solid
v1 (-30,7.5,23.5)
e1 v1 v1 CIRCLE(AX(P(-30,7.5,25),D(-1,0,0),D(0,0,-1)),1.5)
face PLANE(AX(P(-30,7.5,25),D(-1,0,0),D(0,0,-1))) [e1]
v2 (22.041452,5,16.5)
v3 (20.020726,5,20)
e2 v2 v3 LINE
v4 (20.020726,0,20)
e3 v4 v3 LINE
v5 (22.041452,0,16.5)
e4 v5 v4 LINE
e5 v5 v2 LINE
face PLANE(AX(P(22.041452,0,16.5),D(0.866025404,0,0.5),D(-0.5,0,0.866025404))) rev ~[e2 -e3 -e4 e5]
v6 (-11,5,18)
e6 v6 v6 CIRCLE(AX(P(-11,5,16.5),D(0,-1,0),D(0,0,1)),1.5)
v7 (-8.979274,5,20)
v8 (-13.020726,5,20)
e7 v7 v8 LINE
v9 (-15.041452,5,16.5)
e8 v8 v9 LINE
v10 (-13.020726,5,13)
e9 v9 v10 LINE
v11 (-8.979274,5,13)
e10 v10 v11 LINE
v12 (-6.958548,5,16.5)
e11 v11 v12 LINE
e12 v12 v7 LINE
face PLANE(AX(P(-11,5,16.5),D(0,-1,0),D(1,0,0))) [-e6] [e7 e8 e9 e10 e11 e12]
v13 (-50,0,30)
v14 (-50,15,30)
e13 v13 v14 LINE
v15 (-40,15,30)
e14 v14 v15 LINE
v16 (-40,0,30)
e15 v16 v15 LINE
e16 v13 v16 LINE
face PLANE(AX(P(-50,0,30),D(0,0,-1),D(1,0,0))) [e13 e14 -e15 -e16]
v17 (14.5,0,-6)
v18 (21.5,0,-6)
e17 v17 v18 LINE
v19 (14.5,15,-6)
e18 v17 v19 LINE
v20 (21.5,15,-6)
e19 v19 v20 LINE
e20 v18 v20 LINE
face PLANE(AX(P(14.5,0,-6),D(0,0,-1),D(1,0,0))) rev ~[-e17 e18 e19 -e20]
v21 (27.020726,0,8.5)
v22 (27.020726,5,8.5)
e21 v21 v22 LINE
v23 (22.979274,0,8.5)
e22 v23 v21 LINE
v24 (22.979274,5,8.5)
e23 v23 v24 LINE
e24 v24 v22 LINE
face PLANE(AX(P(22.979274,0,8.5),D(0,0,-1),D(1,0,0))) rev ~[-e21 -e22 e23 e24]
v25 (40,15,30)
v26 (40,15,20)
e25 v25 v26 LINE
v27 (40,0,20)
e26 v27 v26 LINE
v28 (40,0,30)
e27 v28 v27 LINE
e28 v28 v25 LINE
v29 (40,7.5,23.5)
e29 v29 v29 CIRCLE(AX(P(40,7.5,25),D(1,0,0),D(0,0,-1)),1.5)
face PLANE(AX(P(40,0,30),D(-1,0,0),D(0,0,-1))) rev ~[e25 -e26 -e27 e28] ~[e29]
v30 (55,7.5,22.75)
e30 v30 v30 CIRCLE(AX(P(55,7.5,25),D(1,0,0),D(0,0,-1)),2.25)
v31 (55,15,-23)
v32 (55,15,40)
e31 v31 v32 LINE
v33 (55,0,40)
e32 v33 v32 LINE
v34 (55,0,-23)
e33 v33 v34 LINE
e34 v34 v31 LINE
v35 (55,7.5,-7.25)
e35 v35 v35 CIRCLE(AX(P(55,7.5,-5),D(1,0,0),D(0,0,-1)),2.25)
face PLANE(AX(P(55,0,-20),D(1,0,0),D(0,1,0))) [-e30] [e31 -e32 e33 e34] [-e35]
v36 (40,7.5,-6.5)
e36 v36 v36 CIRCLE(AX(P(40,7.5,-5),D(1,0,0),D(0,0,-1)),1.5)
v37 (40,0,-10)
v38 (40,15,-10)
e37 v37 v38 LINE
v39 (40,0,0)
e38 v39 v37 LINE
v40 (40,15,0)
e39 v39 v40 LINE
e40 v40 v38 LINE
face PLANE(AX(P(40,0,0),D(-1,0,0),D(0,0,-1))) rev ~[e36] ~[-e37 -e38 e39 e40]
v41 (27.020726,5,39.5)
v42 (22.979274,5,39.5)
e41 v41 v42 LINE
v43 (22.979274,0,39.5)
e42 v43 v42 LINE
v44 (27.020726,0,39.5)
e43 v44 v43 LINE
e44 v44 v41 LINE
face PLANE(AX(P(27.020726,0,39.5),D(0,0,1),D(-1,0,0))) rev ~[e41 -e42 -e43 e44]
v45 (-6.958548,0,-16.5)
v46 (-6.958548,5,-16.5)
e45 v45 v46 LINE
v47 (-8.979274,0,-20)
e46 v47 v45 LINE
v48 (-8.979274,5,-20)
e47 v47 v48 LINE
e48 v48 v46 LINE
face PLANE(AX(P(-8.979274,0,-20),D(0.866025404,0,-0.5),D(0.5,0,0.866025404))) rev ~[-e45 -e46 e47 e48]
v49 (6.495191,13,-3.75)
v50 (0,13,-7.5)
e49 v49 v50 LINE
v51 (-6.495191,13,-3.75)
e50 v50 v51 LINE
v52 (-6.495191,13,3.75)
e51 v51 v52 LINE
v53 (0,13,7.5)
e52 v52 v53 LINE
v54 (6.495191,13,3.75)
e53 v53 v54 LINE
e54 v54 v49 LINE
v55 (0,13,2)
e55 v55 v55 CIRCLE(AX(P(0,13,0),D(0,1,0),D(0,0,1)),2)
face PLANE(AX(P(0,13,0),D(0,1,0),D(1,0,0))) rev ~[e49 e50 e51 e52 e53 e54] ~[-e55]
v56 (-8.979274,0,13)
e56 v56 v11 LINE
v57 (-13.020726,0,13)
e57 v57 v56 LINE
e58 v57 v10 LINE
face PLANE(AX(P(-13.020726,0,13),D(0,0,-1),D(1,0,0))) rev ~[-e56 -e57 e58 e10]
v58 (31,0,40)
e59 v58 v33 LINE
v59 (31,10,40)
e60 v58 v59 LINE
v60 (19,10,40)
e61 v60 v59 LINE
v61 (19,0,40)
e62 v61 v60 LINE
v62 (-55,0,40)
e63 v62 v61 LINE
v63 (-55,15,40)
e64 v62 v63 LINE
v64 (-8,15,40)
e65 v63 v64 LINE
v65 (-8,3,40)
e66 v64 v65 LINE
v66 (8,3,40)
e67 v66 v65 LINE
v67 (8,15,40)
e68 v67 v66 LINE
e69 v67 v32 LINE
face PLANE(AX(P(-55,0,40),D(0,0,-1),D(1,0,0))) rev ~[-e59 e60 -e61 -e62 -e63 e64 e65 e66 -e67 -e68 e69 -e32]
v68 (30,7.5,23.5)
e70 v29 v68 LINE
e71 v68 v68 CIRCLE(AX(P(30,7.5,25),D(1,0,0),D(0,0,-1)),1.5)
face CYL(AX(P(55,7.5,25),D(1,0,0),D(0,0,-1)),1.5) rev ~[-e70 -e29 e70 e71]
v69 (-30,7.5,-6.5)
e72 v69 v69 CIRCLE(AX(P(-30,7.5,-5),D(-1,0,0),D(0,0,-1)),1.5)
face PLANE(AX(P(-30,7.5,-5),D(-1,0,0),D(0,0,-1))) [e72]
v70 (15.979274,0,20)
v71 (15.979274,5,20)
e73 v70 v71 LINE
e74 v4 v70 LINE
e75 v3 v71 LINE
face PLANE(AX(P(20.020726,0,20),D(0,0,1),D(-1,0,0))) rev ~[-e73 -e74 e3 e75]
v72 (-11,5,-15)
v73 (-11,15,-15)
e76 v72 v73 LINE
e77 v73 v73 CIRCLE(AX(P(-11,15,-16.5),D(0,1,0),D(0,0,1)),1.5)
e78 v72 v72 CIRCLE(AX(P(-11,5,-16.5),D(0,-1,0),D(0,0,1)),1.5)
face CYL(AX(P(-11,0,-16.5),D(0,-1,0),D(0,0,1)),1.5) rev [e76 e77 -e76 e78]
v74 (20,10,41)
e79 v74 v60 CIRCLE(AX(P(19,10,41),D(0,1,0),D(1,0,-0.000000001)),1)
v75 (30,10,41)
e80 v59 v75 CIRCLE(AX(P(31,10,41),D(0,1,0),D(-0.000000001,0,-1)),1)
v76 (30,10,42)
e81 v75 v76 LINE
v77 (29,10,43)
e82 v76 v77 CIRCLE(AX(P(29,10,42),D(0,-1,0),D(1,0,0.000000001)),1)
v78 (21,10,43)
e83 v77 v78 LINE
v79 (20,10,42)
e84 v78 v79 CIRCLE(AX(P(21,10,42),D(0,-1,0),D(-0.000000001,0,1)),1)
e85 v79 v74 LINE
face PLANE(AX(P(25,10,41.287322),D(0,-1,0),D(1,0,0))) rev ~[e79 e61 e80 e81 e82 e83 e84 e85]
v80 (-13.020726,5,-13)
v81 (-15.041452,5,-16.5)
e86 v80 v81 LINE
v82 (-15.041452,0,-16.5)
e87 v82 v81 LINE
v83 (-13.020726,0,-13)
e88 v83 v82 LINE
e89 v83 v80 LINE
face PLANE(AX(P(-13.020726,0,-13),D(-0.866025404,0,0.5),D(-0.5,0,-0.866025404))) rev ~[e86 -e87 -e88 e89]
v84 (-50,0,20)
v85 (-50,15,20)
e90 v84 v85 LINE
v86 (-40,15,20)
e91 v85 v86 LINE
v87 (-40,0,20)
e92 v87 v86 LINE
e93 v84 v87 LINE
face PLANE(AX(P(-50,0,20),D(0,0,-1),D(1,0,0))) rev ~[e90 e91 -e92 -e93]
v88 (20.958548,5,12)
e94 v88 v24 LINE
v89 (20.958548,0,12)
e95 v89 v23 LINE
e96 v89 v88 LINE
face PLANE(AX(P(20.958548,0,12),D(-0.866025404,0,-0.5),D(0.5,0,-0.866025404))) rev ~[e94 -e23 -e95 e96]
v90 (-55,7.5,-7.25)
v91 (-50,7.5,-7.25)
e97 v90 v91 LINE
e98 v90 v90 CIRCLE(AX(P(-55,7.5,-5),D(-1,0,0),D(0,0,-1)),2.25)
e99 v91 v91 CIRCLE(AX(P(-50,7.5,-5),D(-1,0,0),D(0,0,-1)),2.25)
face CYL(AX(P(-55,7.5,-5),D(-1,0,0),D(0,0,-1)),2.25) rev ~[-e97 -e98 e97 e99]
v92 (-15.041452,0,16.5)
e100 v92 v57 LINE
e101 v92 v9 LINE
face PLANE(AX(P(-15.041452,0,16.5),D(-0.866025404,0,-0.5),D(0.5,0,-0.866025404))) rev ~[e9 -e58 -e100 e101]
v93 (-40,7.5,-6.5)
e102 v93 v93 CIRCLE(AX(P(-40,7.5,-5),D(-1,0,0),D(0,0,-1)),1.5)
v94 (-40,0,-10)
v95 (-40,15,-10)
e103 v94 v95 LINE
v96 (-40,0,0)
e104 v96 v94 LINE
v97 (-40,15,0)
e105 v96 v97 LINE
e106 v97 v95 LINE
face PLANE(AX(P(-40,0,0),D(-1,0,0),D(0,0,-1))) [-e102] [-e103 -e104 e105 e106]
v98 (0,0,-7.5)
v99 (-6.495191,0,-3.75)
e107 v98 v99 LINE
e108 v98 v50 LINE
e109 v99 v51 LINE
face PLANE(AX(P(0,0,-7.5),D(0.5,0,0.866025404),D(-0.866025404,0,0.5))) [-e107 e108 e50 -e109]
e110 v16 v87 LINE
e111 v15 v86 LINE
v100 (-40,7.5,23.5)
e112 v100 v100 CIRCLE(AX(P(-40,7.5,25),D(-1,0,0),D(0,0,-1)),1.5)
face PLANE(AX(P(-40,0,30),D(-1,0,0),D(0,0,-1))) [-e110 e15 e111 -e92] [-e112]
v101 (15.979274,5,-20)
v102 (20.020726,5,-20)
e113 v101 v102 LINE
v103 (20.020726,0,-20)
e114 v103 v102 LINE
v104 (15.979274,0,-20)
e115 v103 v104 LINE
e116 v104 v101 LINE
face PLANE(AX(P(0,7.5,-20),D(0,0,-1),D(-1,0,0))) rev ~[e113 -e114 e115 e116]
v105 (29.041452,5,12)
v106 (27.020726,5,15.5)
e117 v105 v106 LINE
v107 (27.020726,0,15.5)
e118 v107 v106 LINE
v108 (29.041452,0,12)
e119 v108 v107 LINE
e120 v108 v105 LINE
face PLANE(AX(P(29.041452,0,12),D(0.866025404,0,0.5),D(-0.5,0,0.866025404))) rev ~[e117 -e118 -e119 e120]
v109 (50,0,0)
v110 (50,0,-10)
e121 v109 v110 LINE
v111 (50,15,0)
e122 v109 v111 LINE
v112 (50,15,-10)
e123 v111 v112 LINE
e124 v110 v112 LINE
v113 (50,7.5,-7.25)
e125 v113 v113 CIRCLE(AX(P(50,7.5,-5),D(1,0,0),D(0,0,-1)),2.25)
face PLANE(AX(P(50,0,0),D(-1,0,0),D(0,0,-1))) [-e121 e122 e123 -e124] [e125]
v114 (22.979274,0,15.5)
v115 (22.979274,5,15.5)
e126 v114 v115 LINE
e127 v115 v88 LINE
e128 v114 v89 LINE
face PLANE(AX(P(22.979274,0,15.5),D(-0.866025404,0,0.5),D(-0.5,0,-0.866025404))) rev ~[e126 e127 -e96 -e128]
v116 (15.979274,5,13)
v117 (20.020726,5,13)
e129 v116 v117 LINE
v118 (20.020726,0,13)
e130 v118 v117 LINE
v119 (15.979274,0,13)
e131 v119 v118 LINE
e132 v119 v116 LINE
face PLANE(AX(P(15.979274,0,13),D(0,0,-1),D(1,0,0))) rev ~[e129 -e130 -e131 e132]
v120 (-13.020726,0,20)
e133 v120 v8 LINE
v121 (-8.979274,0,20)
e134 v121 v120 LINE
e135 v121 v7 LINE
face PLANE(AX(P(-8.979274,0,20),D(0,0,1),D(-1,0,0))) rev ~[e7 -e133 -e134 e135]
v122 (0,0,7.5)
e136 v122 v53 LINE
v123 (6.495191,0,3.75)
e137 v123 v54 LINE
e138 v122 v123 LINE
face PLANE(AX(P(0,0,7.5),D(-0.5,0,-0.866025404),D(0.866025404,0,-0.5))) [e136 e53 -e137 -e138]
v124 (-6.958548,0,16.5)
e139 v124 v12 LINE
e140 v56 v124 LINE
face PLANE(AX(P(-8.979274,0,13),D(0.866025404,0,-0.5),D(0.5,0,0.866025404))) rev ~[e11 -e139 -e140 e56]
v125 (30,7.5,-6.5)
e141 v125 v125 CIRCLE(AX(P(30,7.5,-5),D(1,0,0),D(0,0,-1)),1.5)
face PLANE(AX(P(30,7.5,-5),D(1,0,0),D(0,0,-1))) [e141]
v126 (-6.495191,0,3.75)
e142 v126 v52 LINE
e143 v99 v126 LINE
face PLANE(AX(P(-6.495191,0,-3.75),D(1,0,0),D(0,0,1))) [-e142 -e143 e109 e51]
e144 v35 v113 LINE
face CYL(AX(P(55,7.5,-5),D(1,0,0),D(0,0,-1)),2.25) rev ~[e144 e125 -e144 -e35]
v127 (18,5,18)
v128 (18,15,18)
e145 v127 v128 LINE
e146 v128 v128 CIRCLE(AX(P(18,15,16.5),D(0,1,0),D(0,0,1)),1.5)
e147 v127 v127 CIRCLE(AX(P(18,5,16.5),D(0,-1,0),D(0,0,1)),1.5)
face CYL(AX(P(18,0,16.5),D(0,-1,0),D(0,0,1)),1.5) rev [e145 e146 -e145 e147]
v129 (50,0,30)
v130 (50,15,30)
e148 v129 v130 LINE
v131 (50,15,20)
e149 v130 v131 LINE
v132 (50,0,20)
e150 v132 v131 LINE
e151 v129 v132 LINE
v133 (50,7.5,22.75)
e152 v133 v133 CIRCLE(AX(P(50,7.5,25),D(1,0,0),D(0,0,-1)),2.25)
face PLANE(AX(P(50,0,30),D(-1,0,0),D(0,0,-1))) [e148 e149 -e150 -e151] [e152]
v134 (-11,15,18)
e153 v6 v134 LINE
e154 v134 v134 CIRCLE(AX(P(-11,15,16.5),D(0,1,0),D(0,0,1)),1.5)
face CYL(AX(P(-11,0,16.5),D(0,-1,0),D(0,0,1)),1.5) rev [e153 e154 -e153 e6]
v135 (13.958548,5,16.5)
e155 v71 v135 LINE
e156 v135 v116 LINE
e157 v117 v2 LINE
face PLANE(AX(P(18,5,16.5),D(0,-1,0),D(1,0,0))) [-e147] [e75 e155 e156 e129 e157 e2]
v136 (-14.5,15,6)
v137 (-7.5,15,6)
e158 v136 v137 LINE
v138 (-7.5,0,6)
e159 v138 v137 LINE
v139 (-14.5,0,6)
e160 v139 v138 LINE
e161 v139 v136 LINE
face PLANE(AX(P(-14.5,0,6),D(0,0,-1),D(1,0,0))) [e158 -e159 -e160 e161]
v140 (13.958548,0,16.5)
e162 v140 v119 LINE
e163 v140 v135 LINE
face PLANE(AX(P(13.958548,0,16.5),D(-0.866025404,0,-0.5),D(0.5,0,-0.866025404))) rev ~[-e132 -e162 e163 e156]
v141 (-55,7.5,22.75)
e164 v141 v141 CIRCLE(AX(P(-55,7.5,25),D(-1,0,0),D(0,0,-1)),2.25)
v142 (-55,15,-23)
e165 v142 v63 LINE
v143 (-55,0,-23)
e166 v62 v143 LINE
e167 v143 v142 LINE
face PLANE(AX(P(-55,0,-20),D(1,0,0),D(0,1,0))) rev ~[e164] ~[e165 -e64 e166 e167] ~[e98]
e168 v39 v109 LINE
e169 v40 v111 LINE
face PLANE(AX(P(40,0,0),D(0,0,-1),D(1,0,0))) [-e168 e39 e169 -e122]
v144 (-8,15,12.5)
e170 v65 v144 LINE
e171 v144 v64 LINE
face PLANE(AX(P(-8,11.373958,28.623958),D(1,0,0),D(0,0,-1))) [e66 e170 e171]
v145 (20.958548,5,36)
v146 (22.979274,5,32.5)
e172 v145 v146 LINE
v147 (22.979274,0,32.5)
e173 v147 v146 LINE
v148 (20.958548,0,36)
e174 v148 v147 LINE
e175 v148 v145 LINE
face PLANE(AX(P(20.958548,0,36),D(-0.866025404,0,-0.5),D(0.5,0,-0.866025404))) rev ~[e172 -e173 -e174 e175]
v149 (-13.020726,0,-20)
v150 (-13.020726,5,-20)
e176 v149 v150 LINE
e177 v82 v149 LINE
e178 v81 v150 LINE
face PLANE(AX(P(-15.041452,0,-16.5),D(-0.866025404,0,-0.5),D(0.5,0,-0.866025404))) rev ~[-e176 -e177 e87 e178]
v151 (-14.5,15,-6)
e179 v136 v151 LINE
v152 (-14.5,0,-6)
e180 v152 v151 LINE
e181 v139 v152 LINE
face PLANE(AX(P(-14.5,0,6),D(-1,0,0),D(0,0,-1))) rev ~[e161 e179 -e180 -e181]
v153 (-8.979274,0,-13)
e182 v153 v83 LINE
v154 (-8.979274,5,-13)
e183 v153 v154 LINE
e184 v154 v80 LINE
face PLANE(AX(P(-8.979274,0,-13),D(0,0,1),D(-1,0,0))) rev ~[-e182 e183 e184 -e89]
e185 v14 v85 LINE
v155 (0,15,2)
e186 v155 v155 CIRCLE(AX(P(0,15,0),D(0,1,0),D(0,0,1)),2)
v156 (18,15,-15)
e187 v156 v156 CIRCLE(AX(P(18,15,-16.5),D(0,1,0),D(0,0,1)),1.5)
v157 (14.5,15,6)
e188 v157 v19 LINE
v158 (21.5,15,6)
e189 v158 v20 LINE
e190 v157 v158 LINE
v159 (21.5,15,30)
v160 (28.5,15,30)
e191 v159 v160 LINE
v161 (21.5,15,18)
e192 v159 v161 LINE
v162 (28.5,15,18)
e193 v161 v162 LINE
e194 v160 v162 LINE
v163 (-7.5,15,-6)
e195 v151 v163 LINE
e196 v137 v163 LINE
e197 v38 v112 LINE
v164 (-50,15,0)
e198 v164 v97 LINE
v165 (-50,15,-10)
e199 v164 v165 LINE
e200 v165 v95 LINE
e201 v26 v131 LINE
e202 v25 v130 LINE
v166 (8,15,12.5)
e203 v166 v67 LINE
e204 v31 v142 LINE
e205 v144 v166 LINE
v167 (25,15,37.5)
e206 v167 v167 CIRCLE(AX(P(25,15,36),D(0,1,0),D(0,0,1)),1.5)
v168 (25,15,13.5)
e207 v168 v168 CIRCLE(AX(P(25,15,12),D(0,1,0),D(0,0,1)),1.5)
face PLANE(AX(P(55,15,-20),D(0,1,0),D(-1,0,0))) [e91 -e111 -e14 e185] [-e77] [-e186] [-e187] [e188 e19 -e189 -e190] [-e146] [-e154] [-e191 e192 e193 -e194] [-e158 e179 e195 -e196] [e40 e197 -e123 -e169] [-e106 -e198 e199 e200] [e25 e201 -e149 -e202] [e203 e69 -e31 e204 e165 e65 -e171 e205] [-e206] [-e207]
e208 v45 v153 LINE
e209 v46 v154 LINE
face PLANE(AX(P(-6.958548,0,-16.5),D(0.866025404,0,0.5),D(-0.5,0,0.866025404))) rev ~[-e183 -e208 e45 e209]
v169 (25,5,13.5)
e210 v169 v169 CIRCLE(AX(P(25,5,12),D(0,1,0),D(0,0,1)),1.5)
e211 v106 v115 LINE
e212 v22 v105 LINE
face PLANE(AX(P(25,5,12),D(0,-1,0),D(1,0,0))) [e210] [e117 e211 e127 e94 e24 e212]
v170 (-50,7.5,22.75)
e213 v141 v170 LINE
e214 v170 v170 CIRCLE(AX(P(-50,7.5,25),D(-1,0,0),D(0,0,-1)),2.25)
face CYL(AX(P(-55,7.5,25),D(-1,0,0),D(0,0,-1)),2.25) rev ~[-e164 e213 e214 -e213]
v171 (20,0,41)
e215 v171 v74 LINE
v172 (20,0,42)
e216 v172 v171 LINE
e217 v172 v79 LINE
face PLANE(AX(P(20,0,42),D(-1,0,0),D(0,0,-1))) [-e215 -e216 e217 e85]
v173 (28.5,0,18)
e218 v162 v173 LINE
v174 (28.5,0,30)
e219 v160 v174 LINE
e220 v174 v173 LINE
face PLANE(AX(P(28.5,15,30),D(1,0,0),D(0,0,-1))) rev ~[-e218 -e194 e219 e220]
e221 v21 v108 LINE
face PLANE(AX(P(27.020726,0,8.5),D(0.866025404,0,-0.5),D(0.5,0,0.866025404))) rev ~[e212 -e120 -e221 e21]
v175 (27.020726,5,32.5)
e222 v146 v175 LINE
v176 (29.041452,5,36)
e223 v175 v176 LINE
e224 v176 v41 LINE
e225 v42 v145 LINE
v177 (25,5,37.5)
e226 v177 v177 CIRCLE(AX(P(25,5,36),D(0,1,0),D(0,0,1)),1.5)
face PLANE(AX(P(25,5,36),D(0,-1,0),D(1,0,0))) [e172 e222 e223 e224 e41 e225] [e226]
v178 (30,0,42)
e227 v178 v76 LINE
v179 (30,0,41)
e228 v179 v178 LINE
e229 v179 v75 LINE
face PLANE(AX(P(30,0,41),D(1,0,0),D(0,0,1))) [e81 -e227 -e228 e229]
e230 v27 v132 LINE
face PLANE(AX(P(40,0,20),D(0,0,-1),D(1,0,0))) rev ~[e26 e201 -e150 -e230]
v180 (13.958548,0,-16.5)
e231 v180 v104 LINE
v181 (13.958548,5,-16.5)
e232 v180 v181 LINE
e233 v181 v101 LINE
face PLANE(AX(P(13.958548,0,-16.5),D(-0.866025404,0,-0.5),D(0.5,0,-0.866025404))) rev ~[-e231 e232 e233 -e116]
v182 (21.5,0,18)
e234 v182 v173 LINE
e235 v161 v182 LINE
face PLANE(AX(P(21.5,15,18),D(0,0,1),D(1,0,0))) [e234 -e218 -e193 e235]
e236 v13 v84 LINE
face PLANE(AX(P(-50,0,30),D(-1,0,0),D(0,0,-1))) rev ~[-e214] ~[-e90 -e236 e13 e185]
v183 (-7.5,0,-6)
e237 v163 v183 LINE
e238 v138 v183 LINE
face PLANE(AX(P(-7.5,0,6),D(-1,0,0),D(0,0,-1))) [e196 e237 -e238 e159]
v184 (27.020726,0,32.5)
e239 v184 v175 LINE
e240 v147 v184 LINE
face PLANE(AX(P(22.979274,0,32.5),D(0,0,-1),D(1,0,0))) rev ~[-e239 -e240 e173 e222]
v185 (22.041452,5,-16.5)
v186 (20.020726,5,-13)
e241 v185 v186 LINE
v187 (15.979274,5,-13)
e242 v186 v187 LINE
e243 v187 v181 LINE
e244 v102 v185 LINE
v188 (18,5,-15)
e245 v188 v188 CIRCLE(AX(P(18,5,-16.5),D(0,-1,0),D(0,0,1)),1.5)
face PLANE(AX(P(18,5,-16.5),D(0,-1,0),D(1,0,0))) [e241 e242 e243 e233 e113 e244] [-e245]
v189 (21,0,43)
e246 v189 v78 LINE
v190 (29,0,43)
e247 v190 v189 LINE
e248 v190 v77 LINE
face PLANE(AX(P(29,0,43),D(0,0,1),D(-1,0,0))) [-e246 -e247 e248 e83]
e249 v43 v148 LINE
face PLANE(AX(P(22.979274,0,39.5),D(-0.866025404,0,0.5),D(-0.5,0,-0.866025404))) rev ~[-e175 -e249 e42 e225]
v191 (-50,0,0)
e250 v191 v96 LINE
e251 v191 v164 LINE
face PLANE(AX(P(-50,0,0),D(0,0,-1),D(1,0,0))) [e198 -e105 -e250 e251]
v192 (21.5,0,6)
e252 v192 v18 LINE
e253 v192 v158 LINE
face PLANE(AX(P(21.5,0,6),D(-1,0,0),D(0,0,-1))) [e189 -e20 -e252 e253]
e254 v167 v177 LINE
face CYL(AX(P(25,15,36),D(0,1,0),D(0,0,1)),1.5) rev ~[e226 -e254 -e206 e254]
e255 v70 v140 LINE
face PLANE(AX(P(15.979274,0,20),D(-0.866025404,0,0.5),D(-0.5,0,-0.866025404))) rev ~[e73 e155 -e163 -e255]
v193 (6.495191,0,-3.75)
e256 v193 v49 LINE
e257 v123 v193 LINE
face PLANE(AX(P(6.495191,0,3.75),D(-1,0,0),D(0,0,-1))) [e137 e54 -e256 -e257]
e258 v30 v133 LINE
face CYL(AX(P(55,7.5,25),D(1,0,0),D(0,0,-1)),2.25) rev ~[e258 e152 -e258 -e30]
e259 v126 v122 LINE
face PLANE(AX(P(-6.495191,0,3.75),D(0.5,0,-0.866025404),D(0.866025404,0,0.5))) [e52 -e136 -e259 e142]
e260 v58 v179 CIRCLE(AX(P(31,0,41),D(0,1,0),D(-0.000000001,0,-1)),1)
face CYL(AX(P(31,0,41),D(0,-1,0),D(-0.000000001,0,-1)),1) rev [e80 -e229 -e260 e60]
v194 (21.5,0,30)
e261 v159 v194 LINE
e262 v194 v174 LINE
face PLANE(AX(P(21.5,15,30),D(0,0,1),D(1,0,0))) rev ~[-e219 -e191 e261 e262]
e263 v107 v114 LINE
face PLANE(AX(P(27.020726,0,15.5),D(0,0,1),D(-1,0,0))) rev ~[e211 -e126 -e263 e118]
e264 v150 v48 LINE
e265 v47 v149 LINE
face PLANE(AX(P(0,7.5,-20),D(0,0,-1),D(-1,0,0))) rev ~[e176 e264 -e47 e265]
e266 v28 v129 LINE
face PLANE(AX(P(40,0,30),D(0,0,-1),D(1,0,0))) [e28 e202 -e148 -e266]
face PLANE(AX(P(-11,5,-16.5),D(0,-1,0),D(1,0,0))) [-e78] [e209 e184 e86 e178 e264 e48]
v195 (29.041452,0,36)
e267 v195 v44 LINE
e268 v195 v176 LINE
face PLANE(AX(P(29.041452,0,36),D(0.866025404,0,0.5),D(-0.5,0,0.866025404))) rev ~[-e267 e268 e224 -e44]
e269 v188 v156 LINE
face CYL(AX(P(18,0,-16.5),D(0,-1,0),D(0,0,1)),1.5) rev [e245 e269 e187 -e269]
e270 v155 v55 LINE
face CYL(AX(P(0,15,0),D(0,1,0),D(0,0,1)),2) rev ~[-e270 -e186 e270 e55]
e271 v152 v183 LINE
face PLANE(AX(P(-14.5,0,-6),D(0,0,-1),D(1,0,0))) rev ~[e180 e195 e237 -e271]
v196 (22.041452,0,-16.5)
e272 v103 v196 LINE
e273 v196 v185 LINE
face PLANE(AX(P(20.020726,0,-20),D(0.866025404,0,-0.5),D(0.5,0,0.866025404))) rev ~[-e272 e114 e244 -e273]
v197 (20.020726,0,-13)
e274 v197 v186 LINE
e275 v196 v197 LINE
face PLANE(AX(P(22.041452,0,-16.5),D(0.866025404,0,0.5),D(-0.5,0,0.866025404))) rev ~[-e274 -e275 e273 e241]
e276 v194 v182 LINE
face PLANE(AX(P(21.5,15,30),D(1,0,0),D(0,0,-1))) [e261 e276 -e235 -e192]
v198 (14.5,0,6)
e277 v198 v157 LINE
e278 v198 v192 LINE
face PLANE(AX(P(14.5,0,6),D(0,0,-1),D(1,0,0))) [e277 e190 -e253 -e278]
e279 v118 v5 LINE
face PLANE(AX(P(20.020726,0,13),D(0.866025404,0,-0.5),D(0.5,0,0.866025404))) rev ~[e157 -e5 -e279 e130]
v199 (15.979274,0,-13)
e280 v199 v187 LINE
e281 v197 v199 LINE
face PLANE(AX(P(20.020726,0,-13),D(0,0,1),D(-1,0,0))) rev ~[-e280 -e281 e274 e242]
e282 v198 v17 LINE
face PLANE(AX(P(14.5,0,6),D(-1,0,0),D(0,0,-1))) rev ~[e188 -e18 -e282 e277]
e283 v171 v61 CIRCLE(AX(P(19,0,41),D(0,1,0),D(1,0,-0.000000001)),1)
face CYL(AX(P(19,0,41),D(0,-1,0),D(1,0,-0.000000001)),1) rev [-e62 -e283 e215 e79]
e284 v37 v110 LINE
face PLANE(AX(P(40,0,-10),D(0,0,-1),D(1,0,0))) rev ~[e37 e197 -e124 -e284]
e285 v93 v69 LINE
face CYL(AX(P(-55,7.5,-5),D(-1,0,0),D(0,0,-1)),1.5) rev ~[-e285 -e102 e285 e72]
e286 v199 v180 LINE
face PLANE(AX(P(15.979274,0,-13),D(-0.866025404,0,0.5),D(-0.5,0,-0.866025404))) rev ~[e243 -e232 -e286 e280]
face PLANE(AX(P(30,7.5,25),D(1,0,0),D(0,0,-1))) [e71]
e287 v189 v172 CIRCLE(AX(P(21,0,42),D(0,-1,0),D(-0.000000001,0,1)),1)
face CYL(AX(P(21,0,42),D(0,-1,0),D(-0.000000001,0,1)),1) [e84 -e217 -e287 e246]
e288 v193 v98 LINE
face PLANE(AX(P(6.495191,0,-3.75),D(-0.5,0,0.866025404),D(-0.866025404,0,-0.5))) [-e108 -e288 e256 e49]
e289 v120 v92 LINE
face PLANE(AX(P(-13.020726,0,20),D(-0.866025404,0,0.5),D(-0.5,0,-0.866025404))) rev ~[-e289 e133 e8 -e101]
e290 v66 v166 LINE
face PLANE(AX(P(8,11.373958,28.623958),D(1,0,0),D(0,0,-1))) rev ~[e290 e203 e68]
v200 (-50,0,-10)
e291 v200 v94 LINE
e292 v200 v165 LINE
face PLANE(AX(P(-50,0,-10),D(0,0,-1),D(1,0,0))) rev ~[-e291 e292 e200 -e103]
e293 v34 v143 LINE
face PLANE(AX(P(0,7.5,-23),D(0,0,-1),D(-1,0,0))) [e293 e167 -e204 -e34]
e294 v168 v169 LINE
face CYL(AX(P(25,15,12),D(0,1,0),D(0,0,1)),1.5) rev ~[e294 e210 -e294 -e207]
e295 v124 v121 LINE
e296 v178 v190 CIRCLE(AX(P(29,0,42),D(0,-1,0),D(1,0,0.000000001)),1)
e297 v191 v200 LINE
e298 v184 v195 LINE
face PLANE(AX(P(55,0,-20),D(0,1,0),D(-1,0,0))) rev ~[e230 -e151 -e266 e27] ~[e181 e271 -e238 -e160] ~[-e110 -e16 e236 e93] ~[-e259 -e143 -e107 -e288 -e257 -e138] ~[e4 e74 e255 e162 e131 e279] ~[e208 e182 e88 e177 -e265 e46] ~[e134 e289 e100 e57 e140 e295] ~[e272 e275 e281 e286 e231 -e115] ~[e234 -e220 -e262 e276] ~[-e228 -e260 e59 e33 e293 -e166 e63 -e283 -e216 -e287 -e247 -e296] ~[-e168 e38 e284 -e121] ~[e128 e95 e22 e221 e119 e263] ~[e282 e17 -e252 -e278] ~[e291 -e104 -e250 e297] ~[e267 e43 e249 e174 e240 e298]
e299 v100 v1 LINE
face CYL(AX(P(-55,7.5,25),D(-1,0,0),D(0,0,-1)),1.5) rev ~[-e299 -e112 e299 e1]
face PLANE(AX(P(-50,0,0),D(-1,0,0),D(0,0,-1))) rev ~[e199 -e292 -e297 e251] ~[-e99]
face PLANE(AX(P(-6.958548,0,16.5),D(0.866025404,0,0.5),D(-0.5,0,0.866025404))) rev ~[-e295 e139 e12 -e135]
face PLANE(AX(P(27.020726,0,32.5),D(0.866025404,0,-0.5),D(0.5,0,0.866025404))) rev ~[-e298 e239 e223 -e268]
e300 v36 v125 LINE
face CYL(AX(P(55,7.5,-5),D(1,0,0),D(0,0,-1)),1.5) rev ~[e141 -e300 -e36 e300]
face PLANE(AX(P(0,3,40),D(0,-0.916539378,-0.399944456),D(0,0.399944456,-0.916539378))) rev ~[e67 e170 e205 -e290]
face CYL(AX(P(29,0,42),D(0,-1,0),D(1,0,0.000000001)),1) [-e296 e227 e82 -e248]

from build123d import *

# Parameters (mm, degrees)
CROQUIS1_W              = 80
CROQUIS1_H              = 60
CROQUIS1_R              = 1.5
CROQUIS1_W_2            = 7
CROQUIS1_H_2            = 25
CROQUIS1_W_3            = 10
CROQUIS1_H_3            = 20
CROQUIS1_H_4            = 10
CROQUIS1_W_4            = 5
CROQUIS1_H_5            = 6.5
SALIENTE_EXTRUIR1_DEPTH = 15
CORTAR_EXTRUIR1_DEPTH   = 5
CROQUIS3_R              = 1.5
CORTAR_EXTRUIR2_DEPTH   = 25
CROQUIS6_R              = 1.5
CORTAR_EXTRUIR3_DEPTH   = 25
CROQUIS8_W              = 15
CROQUIS8_H              = 17.838651154
CROQUIS8_R              = 2
SALIENTE_EXTRUIR2_DEPTH = 2
CORTAR_EXTRUIR4_START   = -55
CORTAR_EXTRUIR4_DEPTH   = 8
CROQUIS10_R             = 1.5
CROQUIS10_W             = 7
CROQUIS10_H             = 12
CORTAR_EXTRUIR5_DEPTH   = 16
CROQUIS12_W             = 110
CROQUIS12_H             = 15
SALIENTE_EXTRUIR3_DEPTH = 3
CORTAR_EXTRUIR6_DEPTH   = 5
SALIENTE_EXTRUIR4_DEPTH = 10
CROQUIS15_R             = 2.25
CORTAR_EXTRUIR7_DEPTH   = 10
CROQUIS16_R             = 2.25
CORTAR_EXTRUIR8_DEPTH   = 10


with BuildPart() as part:
    # Croquis1 → Saliente-Extruir1 (new body)
    with BuildSketch(Plane(origin=(0, 0, 0), x_dir=(1, 0, 0), z_dir=(0, 1, 0))):
        with Locations((0, -10)):
            Rectangle(CROQUIS1_W, CROQUIS1_H)
        with Locations(Location((18, -16.5, 0), (0, 0, 270))):
            Circle(CROQUIS1_R, mode=Mode.SUBTRACT)
        with Locations(Location((-11, -16.5, 0), (0, 0, 270))):
            Circle(CROQUIS1_R, mode=Mode.SUBTRACT)
        with Locations(Location((18, 16.5, 0), (0, 0, 270))):
            Circle(CROQUIS1_R, mode=Mode.SUBTRACT)
        with Locations(Location((-11, 16.5, 0), (0, 0, 270))):
            Circle(CROQUIS1_R, mode=Mode.SUBTRACT)
        with Locations((18, 0)):
            Rectangle(CROQUIS1_W_2, CROQUIS1_H_2, mode=Mode.SUBTRACT)
        Polygon((6.495190528, 3.75), (0, 7.5), (-6.495190528, 3.75), (-6.495190528, -3.75), (0, -7.5), (6.495190528, -3.75), align=None, mode=Mode.SUBTRACT)
        with Locations((-11, 0)):
            Rectangle(CROQUIS1_W_2, CROQUIS1_H_2, mode=Mode.SUBTRACT)
        with Locations((-45, -10)):
            Rectangle(CROQUIS1_W_3, CROQUIS1_H_3)
        with Locations((-45, -35)):
            Rectangle(CROQUIS1_W_3, CROQUIS1_H_4)
        with Locations((-52.5, -10)):
            Rectangle(CROQUIS1_W_4, CROQUIS1_H)
        with Locations((-45, 15)):
            Rectangle(CROQUIS1_W_3, CROQUIS1_H_4)
        with Locations((45, 15)):
            Rectangle(CROQUIS1_W_3, CROQUIS1_H_4)
        with Locations((52.5, -10)):
            Rectangle(CROQUIS1_W_4, CROQUIS1_H)
        with Locations((45, -10)):
            Rectangle(CROQUIS1_W_3, CROQUIS1_H_3)
        with Locations((45, -35)):
            Rectangle(CROQUIS1_W_3, CROQUIS1_H_4)
        with Locations((-11, 9.25)):
            Rectangle(CROQUIS1_W_2, CROQUIS1_H_5)
        with Locations((-11, -9.25)):
            Rectangle(CROQUIS1_W_2, CROQUIS1_H_5)
        with Locations((18, 9.25)):
            Rectangle(CROQUIS1_W_2, CROQUIS1_H_5)
        with Locations((18, -9.25)):
            Rectangle(CROQUIS1_W_2, CROQUIS1_H_5)
    extrude(amount=SALIENTE_EXTRUIR1_DEPTH)

    # Croquis2 → Cortar-Extruir1 (cut)
    with BuildSketch(Plane.XZ):
        Polygon((-6.958548116, 16.5), (-8.979274058, 20), (-13.020725942, 20), (-15.041451884, 16.5), (-13.020725942, 13), (-8.979274058, 13), align=None)
        Polygon((22.041451884, 16.5), (20.020725942, 20), (15.979274058, 20), (13.958548116, 16.5), (15.979274058, 13), (20.020725942, 13), align=None)
        Polygon((-6.958548116, -16.5), (-8.979274058, -13), (-13.020725942, -13), (-15.041451884, -16.5), (-13.020725942, -20), (-8.979274058, -20), align=None)
        Polygon((22.041451884, -16.5), (20.020725942, -13), (15.979274058, -13), (13.958548116, -16.5), (15.979274058, -20), (20.020725942, -20), align=None)
    extrude(amount=-CORTAR_EXTRUIR1_DEPTH, mode=Mode.SUBTRACT)

    # Croquis3 → Cortar-Extruir2 (cut)
    with BuildSketch(Plane(origin=(55, 0, 0), x_dir=(0, 0, -1), z_dir=(1, 0, 0))):
        with Locations((-25, 7.5)):
            Circle(CROQUIS3_R)
        with Locations((5, 7.5)):
            Circle(CROQUIS3_R)
    extrude(amount=-CORTAR_EXTRUIR2_DEPTH, mode=Mode.SUBTRACT)

    # Croquis6 → Cortar-Extruir3 (cut)
    with BuildSketch(Plane.ZY.offset(55)):
        with Locations(Location((-5, 7.5, 0), (0, 0, 180))):
            Circle(CROQUIS6_R)
        with Locations(Location((25, 7.5, 0), (0, 0, 180))):
            Circle(CROQUIS6_R)
    extrude(amount=-CORTAR_EXTRUIR3_DEPTH, mode=Mode.SUBTRACT)

    # Croquis8 → Saliente-Extruir2 (add)
    with BuildSketch(Plane(origin=(0, 15, 0), x_dir=(1, 0, 0), z_dir=(0, 1, 0))):
        Rectangle(CROQUIS8_W, CROQUIS8_H)
        with Locations(Location((0, 0, 0), (0, 0, 270))):
            Circle(CROQUIS8_R, mode=Mode.SUBTRACT)
    extrude(amount=-SALIENTE_EXTRUIR2_DEPTH)

    # Croquis9 → Cortar-Extruir4 (cut, symmetric)
    with BuildSketch(Plane(origin=(55, 0, 0), x_dir=(0, 0, -1), z_dir=(1, 0, 0)).offset(CORTAR_EXTRUIR4_START)):
        Polygon((-40, 3), (-12.5, 15), (-40, 15), align=None)
    extrude(amount=CORTAR_EXTRUIR4_DEPTH, both=True, mode=Mode.SUBTRACT)

    # Croquis10 → Cortar-Extruir5 (cut)
    with BuildSketch(Plane(origin=(0, 15, 0), x_dir=(1, 0, 0), z_dir=(0, 1, 0))):
        with Locations(Location((25, -12, 0), (0, 0, 270))):
            Circle(CROQUIS10_R)
        with Locations(Location((25, -36, 0), (0, 0, 270))):
            Circle(CROQUIS10_R)
        with Locations((25, -24)):
            Rectangle(CROQUIS10_W, CROQUIS10_H)
    extrude(amount=-CORTAR_EXTRUIR5_DEPTH, mode=Mode.SUBTRACT)

    # Croquis12 → Saliente-Extruir3 (add)
    with BuildSketch(Plane(origin=(0, 0, -20), x_dir=(-1, 0, 0), z_dir=(0, 0, -1))):
        with Locations((0, 7.5)):
            Rectangle(CROQUIS12_W, CROQUIS12_H)
    extrude(amount=SALIENTE_EXTRUIR3_DEPTH)

    # Croquis13 → Cortar-Extruir6 (cut)
    with BuildSketch(Plane.XZ):
        Polygon((29.041451884, 12), (27.020725942, 15.5), (22.979274058, 15.5), (20.958548116, 12), (22.979274058, 8.5), (27.020725942, 8.5), align=None)
        Polygon((29.041451884, 36), (27.020725942, 39.5), (22.979274058, 39.5), (20.958548116, 36), (22.979274058, 32.5), (27.020725942, 32.5), align=None)
    extrude(amount=-CORTAR_EXTRUIR6_DEPTH, mode=Mode.SUBTRACT)

    # Croquis14 → Saliente-Extruir4 (add)
    with BuildSketch(Plane.XZ):
        with BuildLine():
            Line((30, 41), (30, 42))
            ThreePointArc((30, 42), (29.707106781, 42.707106781), (29, 43))
            Line((29, 43), (21, 43))
            ThreePointArc((21, 43), (20.292893219, 42.707106781), (20, 42))
            Line((20, 42), (20, 41))
            ThreePointArc((20, 41), (19.707106781, 40.292893219), (19, 40))
            Line((19, 40), (31, 40))
            ThreePointArc((31, 40), (30.292893219, 40.292893219), (30, 41))
        make_face()
    extrude(amount=-SALIENTE_EXTRUIR4_DEPTH)

    # Croquis15 → Cortar-Extruir7 (cut)
    with BuildSketch(Plane(origin=(55, 0, 0), x_dir=(0, 0, -1), z_dir=(1, 0, 0))):
        with Locations((-25, 7.5)):
            Circle(CROQUIS15_R)
        with Locations((5, 7.5)):
            Circle(CROQUIS15_R)
    extrude(amount=-CORTAR_EXTRUIR7_DEPTH, mode=Mode.SUBTRACT)

    # Croquis16 → Cortar-Extruir8 (cut)
    with BuildSketch(Plane.ZY.offset(55)):
        with Locations(Location((-5, 7.5, 0), (0, 0, 180))):
            Circle(CROQUIS16_R)
        with Locations(Location((25, 7.5, 0), (0, 0, 180))):
            Circle(CROQUIS16_R)
    extrude(amount=-CORTAR_EXTRUIR8_DEPTH, mode=Mode.SUBTRACT)


solid = part.part
